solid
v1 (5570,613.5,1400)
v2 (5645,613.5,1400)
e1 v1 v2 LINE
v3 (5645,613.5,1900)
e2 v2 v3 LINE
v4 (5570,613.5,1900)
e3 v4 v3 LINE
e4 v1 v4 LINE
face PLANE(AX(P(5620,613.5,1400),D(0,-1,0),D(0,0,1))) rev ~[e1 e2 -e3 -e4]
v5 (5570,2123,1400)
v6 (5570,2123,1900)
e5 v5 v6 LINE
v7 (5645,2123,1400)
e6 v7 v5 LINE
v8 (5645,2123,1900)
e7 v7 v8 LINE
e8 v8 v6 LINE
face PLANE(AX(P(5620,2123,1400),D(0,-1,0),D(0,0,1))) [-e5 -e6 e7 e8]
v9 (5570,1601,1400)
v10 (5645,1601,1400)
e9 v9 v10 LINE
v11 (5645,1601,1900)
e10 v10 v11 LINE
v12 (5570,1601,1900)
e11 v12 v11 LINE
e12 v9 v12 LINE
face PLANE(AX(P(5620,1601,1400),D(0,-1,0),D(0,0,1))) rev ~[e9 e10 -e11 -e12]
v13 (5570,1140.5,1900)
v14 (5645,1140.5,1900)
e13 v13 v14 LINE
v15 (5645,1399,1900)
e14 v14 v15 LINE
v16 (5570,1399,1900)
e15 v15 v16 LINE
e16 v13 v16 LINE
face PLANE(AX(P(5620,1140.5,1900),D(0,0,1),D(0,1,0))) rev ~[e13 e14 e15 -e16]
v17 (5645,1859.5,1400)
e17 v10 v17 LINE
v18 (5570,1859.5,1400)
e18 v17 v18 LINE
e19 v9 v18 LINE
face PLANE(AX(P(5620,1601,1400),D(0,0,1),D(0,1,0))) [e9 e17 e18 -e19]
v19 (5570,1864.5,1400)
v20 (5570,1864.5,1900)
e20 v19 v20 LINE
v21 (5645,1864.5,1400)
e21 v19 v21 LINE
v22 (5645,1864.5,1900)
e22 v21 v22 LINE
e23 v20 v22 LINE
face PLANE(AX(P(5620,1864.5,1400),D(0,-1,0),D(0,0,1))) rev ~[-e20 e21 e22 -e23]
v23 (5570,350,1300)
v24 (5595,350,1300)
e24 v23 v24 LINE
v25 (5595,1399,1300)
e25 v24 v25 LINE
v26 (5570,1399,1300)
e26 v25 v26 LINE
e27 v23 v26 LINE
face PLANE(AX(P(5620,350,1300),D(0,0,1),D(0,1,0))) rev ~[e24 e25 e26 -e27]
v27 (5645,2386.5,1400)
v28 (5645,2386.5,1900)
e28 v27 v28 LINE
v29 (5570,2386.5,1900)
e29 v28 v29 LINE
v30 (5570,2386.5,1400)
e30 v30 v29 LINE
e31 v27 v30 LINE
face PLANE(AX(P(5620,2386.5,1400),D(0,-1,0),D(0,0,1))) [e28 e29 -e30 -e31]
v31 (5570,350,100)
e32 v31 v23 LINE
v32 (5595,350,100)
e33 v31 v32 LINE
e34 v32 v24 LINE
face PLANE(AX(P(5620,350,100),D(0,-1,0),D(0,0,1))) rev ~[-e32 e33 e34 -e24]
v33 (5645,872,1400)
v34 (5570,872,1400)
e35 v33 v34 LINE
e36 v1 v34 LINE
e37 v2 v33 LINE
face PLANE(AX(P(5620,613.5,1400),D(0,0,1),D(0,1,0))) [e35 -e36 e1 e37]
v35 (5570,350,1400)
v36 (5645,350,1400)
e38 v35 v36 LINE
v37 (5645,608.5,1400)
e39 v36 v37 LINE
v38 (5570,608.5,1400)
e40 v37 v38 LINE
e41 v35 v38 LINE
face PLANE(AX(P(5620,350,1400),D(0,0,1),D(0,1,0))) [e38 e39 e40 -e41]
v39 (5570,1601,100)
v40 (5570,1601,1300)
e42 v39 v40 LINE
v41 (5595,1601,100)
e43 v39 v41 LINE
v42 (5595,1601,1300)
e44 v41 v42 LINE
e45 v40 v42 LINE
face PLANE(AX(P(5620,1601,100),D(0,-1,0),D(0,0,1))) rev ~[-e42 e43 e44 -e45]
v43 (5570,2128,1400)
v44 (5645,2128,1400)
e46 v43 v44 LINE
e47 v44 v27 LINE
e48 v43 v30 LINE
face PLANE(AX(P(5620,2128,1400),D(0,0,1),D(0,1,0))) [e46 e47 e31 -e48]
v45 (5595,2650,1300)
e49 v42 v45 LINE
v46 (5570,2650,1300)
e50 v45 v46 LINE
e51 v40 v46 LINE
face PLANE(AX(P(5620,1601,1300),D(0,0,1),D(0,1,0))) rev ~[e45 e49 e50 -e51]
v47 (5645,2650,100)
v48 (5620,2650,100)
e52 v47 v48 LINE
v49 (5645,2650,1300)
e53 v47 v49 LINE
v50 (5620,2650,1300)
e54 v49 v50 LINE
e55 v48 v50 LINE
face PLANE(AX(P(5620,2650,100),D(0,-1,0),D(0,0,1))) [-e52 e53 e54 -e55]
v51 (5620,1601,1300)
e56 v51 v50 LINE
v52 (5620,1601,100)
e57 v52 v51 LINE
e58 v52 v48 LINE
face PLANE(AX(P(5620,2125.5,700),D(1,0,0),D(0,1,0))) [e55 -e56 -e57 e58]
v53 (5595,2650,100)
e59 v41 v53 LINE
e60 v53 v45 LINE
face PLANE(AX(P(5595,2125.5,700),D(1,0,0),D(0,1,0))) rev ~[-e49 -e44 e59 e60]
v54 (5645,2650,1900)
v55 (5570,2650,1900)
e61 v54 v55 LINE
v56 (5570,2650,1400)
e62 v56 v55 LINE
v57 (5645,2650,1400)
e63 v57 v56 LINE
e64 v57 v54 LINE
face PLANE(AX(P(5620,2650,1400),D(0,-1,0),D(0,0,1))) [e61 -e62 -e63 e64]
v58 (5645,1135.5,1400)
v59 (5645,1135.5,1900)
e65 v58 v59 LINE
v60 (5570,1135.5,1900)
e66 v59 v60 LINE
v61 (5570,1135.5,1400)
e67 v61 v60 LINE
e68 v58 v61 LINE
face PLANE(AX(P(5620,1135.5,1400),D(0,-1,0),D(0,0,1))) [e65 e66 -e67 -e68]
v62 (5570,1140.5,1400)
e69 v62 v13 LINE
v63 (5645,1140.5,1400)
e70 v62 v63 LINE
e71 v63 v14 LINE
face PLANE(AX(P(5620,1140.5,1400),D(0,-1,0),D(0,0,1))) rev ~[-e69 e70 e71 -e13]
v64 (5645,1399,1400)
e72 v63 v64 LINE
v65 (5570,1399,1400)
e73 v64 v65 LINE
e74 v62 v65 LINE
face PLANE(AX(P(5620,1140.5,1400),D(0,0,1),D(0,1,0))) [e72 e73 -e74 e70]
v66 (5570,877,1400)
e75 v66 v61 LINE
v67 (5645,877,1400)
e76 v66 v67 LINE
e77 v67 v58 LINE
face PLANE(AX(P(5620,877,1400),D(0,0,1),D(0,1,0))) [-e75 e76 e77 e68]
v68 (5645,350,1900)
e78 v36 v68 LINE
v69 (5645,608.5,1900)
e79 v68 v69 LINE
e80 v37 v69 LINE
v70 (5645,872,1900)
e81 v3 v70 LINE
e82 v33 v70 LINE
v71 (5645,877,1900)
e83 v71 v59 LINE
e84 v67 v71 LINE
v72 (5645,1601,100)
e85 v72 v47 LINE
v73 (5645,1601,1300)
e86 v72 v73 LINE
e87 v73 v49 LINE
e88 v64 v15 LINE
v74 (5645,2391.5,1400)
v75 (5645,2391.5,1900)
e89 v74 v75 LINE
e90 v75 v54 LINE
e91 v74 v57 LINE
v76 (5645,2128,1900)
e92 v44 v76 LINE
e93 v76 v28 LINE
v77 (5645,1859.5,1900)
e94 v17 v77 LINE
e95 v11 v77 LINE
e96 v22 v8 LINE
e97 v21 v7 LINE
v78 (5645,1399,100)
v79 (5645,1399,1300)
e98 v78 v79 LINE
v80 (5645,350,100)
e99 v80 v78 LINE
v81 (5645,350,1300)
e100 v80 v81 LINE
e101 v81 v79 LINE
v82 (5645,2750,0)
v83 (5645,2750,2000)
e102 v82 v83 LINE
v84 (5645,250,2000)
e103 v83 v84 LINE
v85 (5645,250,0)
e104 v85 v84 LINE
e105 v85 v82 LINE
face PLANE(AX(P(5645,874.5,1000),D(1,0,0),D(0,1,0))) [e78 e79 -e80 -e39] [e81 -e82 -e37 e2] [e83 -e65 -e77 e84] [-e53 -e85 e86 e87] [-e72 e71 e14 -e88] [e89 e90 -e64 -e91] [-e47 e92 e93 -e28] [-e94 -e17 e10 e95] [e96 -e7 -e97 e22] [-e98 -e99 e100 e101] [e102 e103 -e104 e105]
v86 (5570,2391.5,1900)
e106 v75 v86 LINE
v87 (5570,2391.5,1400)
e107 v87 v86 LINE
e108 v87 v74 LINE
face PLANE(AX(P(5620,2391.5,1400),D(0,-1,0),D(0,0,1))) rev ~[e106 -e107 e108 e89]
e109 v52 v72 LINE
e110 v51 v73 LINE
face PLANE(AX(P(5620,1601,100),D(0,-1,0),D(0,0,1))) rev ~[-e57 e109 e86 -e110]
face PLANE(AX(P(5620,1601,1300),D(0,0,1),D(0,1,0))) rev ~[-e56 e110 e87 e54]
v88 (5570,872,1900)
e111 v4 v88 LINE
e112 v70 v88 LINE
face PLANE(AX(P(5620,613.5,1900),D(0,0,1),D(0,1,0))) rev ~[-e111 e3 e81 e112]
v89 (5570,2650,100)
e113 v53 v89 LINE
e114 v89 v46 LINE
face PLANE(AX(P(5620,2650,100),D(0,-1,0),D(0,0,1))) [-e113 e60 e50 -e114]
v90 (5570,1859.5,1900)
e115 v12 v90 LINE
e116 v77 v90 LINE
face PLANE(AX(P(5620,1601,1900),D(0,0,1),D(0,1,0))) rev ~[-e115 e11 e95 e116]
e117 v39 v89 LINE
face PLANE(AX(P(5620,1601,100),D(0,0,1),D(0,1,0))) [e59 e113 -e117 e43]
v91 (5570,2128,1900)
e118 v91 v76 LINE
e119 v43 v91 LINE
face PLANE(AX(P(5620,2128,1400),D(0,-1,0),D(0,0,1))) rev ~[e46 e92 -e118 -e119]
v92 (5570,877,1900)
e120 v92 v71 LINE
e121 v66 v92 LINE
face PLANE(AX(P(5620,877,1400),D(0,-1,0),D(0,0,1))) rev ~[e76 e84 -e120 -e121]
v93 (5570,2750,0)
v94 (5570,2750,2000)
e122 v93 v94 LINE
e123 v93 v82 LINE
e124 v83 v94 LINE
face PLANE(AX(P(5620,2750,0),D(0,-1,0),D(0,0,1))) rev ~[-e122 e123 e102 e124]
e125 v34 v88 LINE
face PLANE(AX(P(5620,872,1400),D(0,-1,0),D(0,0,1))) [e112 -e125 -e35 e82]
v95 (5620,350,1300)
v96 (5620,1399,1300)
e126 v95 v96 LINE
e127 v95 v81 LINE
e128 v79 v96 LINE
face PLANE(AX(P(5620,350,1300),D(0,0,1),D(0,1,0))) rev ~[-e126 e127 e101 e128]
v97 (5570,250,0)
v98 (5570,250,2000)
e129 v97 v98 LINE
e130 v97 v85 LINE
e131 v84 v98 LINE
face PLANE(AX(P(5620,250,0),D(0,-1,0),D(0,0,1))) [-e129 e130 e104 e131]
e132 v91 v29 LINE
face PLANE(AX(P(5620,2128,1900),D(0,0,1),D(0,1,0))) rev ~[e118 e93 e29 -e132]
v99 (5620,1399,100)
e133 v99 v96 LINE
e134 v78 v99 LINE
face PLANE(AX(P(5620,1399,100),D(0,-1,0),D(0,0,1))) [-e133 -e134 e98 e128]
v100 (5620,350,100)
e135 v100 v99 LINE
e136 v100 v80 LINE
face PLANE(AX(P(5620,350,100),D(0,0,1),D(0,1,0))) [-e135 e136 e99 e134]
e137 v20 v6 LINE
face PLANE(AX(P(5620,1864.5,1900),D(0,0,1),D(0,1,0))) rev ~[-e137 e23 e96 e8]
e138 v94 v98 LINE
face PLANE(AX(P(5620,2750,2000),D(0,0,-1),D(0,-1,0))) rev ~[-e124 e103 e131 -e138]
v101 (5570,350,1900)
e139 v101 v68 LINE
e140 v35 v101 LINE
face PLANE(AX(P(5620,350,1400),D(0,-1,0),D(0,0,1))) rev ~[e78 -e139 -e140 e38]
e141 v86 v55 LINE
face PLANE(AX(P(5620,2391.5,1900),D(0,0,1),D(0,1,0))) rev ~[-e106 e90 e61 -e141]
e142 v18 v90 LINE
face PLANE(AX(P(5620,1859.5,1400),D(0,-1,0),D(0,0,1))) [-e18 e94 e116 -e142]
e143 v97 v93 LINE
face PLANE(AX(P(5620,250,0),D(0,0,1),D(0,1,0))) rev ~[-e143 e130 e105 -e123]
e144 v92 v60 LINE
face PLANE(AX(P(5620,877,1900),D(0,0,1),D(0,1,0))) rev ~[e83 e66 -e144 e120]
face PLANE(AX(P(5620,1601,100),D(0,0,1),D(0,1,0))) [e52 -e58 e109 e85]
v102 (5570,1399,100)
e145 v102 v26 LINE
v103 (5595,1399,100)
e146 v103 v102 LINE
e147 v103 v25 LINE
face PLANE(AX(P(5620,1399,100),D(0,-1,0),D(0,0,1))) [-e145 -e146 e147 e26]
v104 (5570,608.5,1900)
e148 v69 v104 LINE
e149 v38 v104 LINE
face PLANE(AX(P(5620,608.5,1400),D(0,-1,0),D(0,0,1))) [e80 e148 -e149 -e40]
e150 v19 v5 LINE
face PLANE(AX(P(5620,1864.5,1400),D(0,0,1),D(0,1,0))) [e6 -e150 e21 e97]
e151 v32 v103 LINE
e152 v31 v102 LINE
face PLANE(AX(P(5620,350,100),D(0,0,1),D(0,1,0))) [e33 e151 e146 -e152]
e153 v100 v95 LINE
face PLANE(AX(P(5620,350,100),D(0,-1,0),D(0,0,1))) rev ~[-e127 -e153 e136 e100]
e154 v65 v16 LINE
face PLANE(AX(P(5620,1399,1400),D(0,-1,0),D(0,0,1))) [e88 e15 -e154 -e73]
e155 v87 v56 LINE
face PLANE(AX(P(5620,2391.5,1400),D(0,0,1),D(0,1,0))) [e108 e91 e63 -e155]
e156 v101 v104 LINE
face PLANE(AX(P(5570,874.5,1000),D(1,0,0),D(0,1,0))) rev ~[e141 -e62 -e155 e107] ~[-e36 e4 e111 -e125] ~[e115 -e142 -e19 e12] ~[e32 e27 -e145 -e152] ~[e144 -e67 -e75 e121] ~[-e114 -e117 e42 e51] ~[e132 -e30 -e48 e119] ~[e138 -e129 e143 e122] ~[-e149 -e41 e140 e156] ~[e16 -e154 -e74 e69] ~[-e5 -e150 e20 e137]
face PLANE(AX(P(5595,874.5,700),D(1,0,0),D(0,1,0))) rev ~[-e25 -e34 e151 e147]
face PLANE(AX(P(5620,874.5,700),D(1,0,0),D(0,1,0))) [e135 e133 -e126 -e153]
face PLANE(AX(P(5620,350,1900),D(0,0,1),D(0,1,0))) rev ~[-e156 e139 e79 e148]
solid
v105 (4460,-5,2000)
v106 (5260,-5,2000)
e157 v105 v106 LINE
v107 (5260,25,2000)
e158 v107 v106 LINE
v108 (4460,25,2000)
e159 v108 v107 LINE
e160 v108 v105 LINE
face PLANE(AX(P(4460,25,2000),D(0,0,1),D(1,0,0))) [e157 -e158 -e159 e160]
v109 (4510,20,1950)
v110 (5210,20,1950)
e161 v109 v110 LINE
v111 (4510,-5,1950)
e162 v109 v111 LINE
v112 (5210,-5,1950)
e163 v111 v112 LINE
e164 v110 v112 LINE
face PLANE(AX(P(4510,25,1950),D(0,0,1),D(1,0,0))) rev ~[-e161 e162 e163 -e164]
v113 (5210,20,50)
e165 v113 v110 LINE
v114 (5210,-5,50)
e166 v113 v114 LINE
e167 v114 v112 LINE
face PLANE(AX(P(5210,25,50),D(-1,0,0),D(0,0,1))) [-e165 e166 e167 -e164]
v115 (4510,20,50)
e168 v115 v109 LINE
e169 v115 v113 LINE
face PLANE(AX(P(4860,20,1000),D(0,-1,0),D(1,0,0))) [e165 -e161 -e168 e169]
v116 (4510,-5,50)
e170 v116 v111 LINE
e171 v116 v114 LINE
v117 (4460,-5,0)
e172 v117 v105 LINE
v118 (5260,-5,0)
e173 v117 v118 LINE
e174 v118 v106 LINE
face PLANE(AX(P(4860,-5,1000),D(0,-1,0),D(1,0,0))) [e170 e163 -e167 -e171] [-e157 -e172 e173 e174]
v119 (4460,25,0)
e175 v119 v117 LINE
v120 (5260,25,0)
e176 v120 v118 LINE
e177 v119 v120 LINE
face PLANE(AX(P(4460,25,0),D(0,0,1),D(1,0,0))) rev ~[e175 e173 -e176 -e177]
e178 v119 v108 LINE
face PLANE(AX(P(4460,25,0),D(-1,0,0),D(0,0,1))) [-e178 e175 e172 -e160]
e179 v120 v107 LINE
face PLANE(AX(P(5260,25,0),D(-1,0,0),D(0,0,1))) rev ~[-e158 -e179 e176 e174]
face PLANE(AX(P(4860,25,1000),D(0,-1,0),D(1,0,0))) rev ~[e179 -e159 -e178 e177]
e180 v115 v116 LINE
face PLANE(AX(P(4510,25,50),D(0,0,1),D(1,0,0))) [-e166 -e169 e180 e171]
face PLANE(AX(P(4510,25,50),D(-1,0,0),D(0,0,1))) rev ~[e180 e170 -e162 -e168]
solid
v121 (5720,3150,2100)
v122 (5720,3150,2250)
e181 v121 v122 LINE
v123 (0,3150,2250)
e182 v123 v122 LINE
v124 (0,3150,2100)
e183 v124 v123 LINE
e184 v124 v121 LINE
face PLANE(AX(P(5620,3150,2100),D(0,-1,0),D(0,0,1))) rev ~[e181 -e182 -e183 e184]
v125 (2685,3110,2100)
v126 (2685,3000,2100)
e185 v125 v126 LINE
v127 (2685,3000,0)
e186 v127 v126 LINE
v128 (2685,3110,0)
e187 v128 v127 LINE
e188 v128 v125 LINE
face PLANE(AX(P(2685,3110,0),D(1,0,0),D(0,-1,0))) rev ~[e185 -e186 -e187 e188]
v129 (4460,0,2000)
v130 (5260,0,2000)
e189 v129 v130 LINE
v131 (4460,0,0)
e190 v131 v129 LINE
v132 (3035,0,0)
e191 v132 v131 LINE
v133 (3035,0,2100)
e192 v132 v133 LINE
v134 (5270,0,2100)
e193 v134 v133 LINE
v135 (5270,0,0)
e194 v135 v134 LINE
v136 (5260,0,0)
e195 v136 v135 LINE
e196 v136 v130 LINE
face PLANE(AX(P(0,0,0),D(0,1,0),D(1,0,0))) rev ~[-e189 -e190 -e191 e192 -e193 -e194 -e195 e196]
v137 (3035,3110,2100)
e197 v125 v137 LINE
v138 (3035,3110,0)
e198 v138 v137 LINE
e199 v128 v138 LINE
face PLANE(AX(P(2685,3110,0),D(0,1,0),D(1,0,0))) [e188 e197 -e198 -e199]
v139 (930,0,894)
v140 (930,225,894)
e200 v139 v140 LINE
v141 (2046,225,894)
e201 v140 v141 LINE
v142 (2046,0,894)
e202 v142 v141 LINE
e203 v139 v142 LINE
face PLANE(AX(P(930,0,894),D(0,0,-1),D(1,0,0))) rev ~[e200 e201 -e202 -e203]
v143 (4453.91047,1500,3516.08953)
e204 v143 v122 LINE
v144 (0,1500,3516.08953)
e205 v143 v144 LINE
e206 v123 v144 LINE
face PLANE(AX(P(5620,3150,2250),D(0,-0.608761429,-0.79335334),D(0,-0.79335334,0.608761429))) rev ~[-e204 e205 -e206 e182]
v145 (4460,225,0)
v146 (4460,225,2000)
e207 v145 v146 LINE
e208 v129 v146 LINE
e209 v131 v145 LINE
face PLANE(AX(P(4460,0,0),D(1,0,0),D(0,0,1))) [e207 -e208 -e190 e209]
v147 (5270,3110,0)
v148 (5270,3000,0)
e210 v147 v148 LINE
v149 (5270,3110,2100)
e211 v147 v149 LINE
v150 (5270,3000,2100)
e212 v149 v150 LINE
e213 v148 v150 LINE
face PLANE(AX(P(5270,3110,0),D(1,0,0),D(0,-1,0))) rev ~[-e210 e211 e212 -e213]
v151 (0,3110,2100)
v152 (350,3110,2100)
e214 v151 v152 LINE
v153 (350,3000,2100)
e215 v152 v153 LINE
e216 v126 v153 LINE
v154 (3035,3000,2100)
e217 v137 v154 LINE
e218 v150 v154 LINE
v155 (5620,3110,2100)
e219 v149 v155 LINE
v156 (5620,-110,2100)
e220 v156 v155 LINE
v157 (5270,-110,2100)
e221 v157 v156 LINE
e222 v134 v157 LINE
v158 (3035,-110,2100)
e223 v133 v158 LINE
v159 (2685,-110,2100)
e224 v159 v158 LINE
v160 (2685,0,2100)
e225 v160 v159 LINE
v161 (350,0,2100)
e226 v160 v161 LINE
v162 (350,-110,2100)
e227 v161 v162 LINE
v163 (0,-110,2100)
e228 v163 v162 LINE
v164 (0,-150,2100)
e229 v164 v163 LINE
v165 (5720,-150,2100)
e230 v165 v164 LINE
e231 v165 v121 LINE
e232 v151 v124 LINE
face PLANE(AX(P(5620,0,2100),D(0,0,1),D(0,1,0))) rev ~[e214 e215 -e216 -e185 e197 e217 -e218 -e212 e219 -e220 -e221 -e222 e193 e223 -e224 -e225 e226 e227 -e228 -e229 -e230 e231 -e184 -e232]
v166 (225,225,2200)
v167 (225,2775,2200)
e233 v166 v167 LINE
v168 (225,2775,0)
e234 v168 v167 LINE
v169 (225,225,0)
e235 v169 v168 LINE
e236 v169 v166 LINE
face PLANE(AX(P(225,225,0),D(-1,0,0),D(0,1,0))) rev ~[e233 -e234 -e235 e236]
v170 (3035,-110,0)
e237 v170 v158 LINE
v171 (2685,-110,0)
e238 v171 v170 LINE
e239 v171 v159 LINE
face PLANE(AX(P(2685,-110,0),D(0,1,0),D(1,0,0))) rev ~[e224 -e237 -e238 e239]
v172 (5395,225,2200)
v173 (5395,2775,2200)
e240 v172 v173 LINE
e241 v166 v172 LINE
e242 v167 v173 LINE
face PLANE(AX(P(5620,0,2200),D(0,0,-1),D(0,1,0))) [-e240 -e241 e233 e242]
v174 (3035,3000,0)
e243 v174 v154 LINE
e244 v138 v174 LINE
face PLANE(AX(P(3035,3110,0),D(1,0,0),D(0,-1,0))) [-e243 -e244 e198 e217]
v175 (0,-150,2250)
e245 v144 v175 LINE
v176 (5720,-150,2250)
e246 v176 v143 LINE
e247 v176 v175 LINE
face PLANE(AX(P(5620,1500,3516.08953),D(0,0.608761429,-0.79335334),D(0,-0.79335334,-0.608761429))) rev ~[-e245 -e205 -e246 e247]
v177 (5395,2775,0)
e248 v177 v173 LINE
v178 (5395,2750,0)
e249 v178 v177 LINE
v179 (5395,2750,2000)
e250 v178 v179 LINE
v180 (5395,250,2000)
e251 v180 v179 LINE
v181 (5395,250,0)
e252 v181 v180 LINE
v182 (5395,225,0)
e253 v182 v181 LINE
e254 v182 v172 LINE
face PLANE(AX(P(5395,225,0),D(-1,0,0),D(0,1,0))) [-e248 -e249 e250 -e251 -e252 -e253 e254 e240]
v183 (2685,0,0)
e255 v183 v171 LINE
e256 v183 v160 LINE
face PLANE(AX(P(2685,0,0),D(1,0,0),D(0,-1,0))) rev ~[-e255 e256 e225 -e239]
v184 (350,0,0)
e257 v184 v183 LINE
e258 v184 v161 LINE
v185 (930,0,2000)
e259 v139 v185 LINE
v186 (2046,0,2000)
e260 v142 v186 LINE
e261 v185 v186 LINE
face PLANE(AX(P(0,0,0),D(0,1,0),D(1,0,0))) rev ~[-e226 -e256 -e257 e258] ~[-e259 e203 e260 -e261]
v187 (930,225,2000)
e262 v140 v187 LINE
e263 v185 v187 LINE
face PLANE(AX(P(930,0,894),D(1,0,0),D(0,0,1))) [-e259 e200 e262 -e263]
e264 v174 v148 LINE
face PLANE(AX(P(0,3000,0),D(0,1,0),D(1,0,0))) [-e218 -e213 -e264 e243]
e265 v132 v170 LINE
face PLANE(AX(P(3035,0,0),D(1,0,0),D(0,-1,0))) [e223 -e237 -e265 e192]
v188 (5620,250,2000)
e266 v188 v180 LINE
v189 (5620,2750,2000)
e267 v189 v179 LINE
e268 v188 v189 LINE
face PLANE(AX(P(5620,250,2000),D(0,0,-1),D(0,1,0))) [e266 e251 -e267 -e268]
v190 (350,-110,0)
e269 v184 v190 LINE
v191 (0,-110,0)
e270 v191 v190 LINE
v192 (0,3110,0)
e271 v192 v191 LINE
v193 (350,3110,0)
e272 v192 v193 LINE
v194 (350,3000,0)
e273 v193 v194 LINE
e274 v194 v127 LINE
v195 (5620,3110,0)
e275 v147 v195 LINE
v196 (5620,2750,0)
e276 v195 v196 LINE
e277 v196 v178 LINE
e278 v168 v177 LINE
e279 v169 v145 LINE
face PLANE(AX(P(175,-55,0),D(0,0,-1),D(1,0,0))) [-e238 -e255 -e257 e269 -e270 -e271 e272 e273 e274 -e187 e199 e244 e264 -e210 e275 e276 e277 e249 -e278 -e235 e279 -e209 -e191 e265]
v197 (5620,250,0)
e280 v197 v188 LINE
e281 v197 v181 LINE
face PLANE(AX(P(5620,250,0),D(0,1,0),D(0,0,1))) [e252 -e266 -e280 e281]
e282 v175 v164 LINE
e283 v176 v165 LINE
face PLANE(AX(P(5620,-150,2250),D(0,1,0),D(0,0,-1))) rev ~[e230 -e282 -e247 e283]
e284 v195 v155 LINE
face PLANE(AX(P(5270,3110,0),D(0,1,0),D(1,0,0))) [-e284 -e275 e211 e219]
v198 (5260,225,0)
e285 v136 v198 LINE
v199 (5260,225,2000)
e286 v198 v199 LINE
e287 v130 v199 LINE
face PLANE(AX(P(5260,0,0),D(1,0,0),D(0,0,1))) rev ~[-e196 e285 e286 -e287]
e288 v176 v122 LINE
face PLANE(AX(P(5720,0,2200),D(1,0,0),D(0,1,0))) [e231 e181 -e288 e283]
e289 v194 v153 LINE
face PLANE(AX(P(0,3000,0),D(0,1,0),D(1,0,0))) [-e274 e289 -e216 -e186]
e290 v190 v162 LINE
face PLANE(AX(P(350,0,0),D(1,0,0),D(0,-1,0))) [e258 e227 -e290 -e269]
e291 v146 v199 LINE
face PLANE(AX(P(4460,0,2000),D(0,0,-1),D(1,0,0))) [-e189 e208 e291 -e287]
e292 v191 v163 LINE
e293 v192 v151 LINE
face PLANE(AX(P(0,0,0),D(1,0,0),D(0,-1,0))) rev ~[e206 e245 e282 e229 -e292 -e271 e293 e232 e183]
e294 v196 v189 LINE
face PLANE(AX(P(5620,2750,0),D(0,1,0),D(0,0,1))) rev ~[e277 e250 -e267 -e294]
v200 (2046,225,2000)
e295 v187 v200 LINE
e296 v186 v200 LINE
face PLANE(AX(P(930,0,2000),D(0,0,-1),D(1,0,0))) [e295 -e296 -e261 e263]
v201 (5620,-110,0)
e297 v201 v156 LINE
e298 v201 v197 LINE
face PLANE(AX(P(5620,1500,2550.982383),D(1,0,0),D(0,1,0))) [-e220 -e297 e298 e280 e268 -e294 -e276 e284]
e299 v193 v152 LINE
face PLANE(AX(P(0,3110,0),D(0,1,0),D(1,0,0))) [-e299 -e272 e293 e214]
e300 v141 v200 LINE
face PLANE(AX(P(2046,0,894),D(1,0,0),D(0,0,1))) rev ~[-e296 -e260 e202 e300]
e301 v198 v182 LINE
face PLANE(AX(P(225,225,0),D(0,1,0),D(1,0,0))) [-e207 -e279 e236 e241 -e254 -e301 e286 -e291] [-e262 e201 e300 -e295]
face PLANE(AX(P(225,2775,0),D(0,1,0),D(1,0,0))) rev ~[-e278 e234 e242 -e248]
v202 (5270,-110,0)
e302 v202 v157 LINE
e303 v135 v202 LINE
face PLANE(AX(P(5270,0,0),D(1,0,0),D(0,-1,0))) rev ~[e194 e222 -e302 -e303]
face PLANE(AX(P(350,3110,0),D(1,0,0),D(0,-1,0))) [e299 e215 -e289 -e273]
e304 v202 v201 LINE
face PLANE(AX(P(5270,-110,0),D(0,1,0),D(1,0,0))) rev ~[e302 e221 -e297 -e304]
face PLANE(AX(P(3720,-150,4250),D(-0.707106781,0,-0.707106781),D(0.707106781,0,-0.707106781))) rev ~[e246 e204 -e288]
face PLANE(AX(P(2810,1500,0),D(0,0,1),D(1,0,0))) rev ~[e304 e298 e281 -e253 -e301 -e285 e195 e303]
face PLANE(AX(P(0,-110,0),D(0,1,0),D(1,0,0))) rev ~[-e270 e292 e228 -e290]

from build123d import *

# Parameters (mm, degrees)
F0_W           = 5620
F0_H           = 3000
F0_W_2         = 5170
F0_H_2         = 2550
F1_DEPTH       = 2200
F2_W           = 2500
F2_H           = 2000
F3_DEPTH       = 225
F4_W           = 1116
F4_H           = 1106
F4_W_2         = 800
F4_H_2         = 2000
F5_DEPTH       = 225
F7_W           = 800
F7_H           = 2000
F7_W_2         = 700
F7_H_2         = 1900
F8_DEPTH       = 30
F9_DEPTH       = 5
F11_DEPTH      = 5620
F11_DEPTH_BACK = 100
F12_DEPTH      = 100
F14_DEPTH      = 6760
F15_W          = 350
F15_H          = 110
F16_DEPTH      = 2100
F17_W          = 1249
F17_H          = 2000
F17_W_2        = 1049
F17_H_2        = 1200
F17_W_3        = 258.5
F17_H_3        = 500
F17_W_4        = 2
F18_DEPTH      = 50
F18_DEPTH_BACK = 25
F19_DEPTH      = 25


with BuildPart() as f1:
    # F0 (on Top) → F1 (new body)
    with BuildSketch(Plane.XY):
        with Locations((2810, 1500)):
            Rectangle(F0_W, F0_H)
        with Locations((2810, 1500)):
            Rectangle(F0_W_2, F0_H_2, mode=Mode.SUBTRACT)
    extrude(amount=F1_DEPTH)

    # F2 (on face) → F3 (cut, through all)
    with BuildSketch(Plane.YZ.offset(5620)):
        with Locations((1500, 1000)):
            Rectangle(F2_W, F2_H)
    extrude(amount=-F3_DEPTH, mode=Mode.SUBTRACT)

    # F4 (on face) → F5 (cut, through all)
    with BuildSketch(Plane.XZ):
        with Locations((1488, 1447)):
            Rectangle(F4_W, F4_H)
        with Locations((4860, 1000)):
            Rectangle(F4_W_2, F4_H_2)
    extrude(amount=-F5_DEPTH, mode=Mode.SUBTRACT)

    # F10 (on face) → F11 (join, two sides)
    with BuildSketch(Plane.YZ.offset(5620)) as f11_sk:
        Polygon((-150, 2100), (0, 2100), (0, 2200), (3000, 2200), (3000, 2100), (3150, 2100), (3150, 2250), (1500, 3516.0895301653), (-150, 2250), align=None)
    extrude(amount=-F11_DEPTH)
    extrude(f11_sk.sketch, amount=F11_DEPTH_BACK)

    # F12 (add, through all): a face of the model
    f12_faces = [f1.faces().sort_by_distance(p)[0] for p in [
        (5670, 1500, 2200),
    ]]
    extrude(f12_faces, amount=F12_DEPTH)

    # F13 (on face) → F14 (cut)
    with BuildSketch(Plane.XZ.offset(150)):
        Polygon((3720, 4250), (5720, 2250), (5720, 4250), align=None)
    extrude(amount=-F14_DEPTH, mode=Mode.SUBTRACT)

    # F15 (on face) → F16 (join, through all)
    with BuildSketch(Plane(origin=(0, 0, 0), x_dir=(1, 0, 0), z_dir=(0, 0, -1))):
        with Locations((175, 55)):
            Rectangle(F15_W, F15_H)
        with Locations((2860, 55)):
            Rectangle(F15_W, F15_H)
        with Locations((5445, 55)):
            Rectangle(F15_W, F15_H)
        with Locations((175, -3055)):
            Rectangle(F15_W, F15_H)
        with Locations((2860, -3055)):
            Rectangle(F15_W, F15_H)
        with Locations((5445, -3055)):
            Rectangle(F15_W, F15_H)
    extrude(amount=-F16_DEPTH)


with BuildPart() as f8:
    # F7 (on offset) → F8 (new body)
    with BuildSketch(Plane.XZ.offset(-25)):
        with Locations((4860, 1000)):
            Rectangle(F7_W, F7_H)
        with Locations((4860, 1000)):
            Rectangle(F7_W_2, F7_H_2, mode=Mode.SUBTRACT)
    extrude(amount=F8_DEPTH)

    # F7 (on offset) → F9 (join)
    with BuildSketch(Plane.XZ.offset(-25)):
        with Locations((4860, 1000)):
            Rectangle(F7_W_2, F7_H_2)
    extrude(amount=F9_DEPTH)


with BuildPart() as f18:
    # F17 (on face) → F18 (new body, two sides)
    with BuildSketch(Plane.YZ.offset(5620)) as f18_sk:
        with Locations((874.5, 1000)):
            Rectangle(F17_W, F17_H)
        with Locations((874.5, 700)):
            Rectangle(F17_W_2, F17_H_2, mode=Mode.SUBTRACT)
        with Locations((479.25, 1650)):
            Rectangle(F17_W_3, F17_H_3, mode=Mode.SUBTRACT)
        with Locations((742.75, 1650)):
            Rectangle(F17_W_3, F17_H_3, mode=Mode.SUBTRACT)
        with Locations((1006.25, 1650)):
            Rectangle(F17_W_3, F17_H_3, mode=Mode.SUBTRACT)
        with Locations((1269.75, 1650)):
            Rectangle(F17_W_3, F17_H_3, mode=Mode.SUBTRACT)
        with Locations((1500, 1000)):
            Rectangle(F17_W_4, F17_H)
        with Locations((2125.5, 1000)):
            Rectangle(F17_W, F17_H)
        with Locations((2125.5, 700)):
            Rectangle(F17_W_2, F17_H_2, mode=Mode.SUBTRACT)
        with Locations((1730.25, 1650)):
            Rectangle(F17_W_3, F17_H_3, mode=Mode.SUBTRACT)
        with Locations((1993.75, 1650)):
            Rectangle(F17_W_3, F17_H_3, mode=Mode.SUBTRACT)
        with Locations((2257.25, 1650)):
            Rectangle(F17_W_3, F17_H_3, mode=Mode.SUBTRACT)
        with Locations((2520.75, 1650)):
            Rectangle(F17_W_3, F17_H_3, mode=Mode.SUBTRACT)
    extrude(amount=-F18_DEPTH)
    extrude(f18_sk.sketch, amount=F18_DEPTH_BACK)

    # F17 (on face) → F19 (join)
    with BuildSketch(Plane.YZ.offset(5620)):
        with Locations((874.5, 700)):
            Rectangle(F17_W_2, F17_H_2)
        with Locations((2125.5, 700)):
            Rectangle(F17_W_2, F17_H_2)
    extrude(amount=-F19_DEPTH)


solid = Compound([f1.part, f8.part, f18.part])
